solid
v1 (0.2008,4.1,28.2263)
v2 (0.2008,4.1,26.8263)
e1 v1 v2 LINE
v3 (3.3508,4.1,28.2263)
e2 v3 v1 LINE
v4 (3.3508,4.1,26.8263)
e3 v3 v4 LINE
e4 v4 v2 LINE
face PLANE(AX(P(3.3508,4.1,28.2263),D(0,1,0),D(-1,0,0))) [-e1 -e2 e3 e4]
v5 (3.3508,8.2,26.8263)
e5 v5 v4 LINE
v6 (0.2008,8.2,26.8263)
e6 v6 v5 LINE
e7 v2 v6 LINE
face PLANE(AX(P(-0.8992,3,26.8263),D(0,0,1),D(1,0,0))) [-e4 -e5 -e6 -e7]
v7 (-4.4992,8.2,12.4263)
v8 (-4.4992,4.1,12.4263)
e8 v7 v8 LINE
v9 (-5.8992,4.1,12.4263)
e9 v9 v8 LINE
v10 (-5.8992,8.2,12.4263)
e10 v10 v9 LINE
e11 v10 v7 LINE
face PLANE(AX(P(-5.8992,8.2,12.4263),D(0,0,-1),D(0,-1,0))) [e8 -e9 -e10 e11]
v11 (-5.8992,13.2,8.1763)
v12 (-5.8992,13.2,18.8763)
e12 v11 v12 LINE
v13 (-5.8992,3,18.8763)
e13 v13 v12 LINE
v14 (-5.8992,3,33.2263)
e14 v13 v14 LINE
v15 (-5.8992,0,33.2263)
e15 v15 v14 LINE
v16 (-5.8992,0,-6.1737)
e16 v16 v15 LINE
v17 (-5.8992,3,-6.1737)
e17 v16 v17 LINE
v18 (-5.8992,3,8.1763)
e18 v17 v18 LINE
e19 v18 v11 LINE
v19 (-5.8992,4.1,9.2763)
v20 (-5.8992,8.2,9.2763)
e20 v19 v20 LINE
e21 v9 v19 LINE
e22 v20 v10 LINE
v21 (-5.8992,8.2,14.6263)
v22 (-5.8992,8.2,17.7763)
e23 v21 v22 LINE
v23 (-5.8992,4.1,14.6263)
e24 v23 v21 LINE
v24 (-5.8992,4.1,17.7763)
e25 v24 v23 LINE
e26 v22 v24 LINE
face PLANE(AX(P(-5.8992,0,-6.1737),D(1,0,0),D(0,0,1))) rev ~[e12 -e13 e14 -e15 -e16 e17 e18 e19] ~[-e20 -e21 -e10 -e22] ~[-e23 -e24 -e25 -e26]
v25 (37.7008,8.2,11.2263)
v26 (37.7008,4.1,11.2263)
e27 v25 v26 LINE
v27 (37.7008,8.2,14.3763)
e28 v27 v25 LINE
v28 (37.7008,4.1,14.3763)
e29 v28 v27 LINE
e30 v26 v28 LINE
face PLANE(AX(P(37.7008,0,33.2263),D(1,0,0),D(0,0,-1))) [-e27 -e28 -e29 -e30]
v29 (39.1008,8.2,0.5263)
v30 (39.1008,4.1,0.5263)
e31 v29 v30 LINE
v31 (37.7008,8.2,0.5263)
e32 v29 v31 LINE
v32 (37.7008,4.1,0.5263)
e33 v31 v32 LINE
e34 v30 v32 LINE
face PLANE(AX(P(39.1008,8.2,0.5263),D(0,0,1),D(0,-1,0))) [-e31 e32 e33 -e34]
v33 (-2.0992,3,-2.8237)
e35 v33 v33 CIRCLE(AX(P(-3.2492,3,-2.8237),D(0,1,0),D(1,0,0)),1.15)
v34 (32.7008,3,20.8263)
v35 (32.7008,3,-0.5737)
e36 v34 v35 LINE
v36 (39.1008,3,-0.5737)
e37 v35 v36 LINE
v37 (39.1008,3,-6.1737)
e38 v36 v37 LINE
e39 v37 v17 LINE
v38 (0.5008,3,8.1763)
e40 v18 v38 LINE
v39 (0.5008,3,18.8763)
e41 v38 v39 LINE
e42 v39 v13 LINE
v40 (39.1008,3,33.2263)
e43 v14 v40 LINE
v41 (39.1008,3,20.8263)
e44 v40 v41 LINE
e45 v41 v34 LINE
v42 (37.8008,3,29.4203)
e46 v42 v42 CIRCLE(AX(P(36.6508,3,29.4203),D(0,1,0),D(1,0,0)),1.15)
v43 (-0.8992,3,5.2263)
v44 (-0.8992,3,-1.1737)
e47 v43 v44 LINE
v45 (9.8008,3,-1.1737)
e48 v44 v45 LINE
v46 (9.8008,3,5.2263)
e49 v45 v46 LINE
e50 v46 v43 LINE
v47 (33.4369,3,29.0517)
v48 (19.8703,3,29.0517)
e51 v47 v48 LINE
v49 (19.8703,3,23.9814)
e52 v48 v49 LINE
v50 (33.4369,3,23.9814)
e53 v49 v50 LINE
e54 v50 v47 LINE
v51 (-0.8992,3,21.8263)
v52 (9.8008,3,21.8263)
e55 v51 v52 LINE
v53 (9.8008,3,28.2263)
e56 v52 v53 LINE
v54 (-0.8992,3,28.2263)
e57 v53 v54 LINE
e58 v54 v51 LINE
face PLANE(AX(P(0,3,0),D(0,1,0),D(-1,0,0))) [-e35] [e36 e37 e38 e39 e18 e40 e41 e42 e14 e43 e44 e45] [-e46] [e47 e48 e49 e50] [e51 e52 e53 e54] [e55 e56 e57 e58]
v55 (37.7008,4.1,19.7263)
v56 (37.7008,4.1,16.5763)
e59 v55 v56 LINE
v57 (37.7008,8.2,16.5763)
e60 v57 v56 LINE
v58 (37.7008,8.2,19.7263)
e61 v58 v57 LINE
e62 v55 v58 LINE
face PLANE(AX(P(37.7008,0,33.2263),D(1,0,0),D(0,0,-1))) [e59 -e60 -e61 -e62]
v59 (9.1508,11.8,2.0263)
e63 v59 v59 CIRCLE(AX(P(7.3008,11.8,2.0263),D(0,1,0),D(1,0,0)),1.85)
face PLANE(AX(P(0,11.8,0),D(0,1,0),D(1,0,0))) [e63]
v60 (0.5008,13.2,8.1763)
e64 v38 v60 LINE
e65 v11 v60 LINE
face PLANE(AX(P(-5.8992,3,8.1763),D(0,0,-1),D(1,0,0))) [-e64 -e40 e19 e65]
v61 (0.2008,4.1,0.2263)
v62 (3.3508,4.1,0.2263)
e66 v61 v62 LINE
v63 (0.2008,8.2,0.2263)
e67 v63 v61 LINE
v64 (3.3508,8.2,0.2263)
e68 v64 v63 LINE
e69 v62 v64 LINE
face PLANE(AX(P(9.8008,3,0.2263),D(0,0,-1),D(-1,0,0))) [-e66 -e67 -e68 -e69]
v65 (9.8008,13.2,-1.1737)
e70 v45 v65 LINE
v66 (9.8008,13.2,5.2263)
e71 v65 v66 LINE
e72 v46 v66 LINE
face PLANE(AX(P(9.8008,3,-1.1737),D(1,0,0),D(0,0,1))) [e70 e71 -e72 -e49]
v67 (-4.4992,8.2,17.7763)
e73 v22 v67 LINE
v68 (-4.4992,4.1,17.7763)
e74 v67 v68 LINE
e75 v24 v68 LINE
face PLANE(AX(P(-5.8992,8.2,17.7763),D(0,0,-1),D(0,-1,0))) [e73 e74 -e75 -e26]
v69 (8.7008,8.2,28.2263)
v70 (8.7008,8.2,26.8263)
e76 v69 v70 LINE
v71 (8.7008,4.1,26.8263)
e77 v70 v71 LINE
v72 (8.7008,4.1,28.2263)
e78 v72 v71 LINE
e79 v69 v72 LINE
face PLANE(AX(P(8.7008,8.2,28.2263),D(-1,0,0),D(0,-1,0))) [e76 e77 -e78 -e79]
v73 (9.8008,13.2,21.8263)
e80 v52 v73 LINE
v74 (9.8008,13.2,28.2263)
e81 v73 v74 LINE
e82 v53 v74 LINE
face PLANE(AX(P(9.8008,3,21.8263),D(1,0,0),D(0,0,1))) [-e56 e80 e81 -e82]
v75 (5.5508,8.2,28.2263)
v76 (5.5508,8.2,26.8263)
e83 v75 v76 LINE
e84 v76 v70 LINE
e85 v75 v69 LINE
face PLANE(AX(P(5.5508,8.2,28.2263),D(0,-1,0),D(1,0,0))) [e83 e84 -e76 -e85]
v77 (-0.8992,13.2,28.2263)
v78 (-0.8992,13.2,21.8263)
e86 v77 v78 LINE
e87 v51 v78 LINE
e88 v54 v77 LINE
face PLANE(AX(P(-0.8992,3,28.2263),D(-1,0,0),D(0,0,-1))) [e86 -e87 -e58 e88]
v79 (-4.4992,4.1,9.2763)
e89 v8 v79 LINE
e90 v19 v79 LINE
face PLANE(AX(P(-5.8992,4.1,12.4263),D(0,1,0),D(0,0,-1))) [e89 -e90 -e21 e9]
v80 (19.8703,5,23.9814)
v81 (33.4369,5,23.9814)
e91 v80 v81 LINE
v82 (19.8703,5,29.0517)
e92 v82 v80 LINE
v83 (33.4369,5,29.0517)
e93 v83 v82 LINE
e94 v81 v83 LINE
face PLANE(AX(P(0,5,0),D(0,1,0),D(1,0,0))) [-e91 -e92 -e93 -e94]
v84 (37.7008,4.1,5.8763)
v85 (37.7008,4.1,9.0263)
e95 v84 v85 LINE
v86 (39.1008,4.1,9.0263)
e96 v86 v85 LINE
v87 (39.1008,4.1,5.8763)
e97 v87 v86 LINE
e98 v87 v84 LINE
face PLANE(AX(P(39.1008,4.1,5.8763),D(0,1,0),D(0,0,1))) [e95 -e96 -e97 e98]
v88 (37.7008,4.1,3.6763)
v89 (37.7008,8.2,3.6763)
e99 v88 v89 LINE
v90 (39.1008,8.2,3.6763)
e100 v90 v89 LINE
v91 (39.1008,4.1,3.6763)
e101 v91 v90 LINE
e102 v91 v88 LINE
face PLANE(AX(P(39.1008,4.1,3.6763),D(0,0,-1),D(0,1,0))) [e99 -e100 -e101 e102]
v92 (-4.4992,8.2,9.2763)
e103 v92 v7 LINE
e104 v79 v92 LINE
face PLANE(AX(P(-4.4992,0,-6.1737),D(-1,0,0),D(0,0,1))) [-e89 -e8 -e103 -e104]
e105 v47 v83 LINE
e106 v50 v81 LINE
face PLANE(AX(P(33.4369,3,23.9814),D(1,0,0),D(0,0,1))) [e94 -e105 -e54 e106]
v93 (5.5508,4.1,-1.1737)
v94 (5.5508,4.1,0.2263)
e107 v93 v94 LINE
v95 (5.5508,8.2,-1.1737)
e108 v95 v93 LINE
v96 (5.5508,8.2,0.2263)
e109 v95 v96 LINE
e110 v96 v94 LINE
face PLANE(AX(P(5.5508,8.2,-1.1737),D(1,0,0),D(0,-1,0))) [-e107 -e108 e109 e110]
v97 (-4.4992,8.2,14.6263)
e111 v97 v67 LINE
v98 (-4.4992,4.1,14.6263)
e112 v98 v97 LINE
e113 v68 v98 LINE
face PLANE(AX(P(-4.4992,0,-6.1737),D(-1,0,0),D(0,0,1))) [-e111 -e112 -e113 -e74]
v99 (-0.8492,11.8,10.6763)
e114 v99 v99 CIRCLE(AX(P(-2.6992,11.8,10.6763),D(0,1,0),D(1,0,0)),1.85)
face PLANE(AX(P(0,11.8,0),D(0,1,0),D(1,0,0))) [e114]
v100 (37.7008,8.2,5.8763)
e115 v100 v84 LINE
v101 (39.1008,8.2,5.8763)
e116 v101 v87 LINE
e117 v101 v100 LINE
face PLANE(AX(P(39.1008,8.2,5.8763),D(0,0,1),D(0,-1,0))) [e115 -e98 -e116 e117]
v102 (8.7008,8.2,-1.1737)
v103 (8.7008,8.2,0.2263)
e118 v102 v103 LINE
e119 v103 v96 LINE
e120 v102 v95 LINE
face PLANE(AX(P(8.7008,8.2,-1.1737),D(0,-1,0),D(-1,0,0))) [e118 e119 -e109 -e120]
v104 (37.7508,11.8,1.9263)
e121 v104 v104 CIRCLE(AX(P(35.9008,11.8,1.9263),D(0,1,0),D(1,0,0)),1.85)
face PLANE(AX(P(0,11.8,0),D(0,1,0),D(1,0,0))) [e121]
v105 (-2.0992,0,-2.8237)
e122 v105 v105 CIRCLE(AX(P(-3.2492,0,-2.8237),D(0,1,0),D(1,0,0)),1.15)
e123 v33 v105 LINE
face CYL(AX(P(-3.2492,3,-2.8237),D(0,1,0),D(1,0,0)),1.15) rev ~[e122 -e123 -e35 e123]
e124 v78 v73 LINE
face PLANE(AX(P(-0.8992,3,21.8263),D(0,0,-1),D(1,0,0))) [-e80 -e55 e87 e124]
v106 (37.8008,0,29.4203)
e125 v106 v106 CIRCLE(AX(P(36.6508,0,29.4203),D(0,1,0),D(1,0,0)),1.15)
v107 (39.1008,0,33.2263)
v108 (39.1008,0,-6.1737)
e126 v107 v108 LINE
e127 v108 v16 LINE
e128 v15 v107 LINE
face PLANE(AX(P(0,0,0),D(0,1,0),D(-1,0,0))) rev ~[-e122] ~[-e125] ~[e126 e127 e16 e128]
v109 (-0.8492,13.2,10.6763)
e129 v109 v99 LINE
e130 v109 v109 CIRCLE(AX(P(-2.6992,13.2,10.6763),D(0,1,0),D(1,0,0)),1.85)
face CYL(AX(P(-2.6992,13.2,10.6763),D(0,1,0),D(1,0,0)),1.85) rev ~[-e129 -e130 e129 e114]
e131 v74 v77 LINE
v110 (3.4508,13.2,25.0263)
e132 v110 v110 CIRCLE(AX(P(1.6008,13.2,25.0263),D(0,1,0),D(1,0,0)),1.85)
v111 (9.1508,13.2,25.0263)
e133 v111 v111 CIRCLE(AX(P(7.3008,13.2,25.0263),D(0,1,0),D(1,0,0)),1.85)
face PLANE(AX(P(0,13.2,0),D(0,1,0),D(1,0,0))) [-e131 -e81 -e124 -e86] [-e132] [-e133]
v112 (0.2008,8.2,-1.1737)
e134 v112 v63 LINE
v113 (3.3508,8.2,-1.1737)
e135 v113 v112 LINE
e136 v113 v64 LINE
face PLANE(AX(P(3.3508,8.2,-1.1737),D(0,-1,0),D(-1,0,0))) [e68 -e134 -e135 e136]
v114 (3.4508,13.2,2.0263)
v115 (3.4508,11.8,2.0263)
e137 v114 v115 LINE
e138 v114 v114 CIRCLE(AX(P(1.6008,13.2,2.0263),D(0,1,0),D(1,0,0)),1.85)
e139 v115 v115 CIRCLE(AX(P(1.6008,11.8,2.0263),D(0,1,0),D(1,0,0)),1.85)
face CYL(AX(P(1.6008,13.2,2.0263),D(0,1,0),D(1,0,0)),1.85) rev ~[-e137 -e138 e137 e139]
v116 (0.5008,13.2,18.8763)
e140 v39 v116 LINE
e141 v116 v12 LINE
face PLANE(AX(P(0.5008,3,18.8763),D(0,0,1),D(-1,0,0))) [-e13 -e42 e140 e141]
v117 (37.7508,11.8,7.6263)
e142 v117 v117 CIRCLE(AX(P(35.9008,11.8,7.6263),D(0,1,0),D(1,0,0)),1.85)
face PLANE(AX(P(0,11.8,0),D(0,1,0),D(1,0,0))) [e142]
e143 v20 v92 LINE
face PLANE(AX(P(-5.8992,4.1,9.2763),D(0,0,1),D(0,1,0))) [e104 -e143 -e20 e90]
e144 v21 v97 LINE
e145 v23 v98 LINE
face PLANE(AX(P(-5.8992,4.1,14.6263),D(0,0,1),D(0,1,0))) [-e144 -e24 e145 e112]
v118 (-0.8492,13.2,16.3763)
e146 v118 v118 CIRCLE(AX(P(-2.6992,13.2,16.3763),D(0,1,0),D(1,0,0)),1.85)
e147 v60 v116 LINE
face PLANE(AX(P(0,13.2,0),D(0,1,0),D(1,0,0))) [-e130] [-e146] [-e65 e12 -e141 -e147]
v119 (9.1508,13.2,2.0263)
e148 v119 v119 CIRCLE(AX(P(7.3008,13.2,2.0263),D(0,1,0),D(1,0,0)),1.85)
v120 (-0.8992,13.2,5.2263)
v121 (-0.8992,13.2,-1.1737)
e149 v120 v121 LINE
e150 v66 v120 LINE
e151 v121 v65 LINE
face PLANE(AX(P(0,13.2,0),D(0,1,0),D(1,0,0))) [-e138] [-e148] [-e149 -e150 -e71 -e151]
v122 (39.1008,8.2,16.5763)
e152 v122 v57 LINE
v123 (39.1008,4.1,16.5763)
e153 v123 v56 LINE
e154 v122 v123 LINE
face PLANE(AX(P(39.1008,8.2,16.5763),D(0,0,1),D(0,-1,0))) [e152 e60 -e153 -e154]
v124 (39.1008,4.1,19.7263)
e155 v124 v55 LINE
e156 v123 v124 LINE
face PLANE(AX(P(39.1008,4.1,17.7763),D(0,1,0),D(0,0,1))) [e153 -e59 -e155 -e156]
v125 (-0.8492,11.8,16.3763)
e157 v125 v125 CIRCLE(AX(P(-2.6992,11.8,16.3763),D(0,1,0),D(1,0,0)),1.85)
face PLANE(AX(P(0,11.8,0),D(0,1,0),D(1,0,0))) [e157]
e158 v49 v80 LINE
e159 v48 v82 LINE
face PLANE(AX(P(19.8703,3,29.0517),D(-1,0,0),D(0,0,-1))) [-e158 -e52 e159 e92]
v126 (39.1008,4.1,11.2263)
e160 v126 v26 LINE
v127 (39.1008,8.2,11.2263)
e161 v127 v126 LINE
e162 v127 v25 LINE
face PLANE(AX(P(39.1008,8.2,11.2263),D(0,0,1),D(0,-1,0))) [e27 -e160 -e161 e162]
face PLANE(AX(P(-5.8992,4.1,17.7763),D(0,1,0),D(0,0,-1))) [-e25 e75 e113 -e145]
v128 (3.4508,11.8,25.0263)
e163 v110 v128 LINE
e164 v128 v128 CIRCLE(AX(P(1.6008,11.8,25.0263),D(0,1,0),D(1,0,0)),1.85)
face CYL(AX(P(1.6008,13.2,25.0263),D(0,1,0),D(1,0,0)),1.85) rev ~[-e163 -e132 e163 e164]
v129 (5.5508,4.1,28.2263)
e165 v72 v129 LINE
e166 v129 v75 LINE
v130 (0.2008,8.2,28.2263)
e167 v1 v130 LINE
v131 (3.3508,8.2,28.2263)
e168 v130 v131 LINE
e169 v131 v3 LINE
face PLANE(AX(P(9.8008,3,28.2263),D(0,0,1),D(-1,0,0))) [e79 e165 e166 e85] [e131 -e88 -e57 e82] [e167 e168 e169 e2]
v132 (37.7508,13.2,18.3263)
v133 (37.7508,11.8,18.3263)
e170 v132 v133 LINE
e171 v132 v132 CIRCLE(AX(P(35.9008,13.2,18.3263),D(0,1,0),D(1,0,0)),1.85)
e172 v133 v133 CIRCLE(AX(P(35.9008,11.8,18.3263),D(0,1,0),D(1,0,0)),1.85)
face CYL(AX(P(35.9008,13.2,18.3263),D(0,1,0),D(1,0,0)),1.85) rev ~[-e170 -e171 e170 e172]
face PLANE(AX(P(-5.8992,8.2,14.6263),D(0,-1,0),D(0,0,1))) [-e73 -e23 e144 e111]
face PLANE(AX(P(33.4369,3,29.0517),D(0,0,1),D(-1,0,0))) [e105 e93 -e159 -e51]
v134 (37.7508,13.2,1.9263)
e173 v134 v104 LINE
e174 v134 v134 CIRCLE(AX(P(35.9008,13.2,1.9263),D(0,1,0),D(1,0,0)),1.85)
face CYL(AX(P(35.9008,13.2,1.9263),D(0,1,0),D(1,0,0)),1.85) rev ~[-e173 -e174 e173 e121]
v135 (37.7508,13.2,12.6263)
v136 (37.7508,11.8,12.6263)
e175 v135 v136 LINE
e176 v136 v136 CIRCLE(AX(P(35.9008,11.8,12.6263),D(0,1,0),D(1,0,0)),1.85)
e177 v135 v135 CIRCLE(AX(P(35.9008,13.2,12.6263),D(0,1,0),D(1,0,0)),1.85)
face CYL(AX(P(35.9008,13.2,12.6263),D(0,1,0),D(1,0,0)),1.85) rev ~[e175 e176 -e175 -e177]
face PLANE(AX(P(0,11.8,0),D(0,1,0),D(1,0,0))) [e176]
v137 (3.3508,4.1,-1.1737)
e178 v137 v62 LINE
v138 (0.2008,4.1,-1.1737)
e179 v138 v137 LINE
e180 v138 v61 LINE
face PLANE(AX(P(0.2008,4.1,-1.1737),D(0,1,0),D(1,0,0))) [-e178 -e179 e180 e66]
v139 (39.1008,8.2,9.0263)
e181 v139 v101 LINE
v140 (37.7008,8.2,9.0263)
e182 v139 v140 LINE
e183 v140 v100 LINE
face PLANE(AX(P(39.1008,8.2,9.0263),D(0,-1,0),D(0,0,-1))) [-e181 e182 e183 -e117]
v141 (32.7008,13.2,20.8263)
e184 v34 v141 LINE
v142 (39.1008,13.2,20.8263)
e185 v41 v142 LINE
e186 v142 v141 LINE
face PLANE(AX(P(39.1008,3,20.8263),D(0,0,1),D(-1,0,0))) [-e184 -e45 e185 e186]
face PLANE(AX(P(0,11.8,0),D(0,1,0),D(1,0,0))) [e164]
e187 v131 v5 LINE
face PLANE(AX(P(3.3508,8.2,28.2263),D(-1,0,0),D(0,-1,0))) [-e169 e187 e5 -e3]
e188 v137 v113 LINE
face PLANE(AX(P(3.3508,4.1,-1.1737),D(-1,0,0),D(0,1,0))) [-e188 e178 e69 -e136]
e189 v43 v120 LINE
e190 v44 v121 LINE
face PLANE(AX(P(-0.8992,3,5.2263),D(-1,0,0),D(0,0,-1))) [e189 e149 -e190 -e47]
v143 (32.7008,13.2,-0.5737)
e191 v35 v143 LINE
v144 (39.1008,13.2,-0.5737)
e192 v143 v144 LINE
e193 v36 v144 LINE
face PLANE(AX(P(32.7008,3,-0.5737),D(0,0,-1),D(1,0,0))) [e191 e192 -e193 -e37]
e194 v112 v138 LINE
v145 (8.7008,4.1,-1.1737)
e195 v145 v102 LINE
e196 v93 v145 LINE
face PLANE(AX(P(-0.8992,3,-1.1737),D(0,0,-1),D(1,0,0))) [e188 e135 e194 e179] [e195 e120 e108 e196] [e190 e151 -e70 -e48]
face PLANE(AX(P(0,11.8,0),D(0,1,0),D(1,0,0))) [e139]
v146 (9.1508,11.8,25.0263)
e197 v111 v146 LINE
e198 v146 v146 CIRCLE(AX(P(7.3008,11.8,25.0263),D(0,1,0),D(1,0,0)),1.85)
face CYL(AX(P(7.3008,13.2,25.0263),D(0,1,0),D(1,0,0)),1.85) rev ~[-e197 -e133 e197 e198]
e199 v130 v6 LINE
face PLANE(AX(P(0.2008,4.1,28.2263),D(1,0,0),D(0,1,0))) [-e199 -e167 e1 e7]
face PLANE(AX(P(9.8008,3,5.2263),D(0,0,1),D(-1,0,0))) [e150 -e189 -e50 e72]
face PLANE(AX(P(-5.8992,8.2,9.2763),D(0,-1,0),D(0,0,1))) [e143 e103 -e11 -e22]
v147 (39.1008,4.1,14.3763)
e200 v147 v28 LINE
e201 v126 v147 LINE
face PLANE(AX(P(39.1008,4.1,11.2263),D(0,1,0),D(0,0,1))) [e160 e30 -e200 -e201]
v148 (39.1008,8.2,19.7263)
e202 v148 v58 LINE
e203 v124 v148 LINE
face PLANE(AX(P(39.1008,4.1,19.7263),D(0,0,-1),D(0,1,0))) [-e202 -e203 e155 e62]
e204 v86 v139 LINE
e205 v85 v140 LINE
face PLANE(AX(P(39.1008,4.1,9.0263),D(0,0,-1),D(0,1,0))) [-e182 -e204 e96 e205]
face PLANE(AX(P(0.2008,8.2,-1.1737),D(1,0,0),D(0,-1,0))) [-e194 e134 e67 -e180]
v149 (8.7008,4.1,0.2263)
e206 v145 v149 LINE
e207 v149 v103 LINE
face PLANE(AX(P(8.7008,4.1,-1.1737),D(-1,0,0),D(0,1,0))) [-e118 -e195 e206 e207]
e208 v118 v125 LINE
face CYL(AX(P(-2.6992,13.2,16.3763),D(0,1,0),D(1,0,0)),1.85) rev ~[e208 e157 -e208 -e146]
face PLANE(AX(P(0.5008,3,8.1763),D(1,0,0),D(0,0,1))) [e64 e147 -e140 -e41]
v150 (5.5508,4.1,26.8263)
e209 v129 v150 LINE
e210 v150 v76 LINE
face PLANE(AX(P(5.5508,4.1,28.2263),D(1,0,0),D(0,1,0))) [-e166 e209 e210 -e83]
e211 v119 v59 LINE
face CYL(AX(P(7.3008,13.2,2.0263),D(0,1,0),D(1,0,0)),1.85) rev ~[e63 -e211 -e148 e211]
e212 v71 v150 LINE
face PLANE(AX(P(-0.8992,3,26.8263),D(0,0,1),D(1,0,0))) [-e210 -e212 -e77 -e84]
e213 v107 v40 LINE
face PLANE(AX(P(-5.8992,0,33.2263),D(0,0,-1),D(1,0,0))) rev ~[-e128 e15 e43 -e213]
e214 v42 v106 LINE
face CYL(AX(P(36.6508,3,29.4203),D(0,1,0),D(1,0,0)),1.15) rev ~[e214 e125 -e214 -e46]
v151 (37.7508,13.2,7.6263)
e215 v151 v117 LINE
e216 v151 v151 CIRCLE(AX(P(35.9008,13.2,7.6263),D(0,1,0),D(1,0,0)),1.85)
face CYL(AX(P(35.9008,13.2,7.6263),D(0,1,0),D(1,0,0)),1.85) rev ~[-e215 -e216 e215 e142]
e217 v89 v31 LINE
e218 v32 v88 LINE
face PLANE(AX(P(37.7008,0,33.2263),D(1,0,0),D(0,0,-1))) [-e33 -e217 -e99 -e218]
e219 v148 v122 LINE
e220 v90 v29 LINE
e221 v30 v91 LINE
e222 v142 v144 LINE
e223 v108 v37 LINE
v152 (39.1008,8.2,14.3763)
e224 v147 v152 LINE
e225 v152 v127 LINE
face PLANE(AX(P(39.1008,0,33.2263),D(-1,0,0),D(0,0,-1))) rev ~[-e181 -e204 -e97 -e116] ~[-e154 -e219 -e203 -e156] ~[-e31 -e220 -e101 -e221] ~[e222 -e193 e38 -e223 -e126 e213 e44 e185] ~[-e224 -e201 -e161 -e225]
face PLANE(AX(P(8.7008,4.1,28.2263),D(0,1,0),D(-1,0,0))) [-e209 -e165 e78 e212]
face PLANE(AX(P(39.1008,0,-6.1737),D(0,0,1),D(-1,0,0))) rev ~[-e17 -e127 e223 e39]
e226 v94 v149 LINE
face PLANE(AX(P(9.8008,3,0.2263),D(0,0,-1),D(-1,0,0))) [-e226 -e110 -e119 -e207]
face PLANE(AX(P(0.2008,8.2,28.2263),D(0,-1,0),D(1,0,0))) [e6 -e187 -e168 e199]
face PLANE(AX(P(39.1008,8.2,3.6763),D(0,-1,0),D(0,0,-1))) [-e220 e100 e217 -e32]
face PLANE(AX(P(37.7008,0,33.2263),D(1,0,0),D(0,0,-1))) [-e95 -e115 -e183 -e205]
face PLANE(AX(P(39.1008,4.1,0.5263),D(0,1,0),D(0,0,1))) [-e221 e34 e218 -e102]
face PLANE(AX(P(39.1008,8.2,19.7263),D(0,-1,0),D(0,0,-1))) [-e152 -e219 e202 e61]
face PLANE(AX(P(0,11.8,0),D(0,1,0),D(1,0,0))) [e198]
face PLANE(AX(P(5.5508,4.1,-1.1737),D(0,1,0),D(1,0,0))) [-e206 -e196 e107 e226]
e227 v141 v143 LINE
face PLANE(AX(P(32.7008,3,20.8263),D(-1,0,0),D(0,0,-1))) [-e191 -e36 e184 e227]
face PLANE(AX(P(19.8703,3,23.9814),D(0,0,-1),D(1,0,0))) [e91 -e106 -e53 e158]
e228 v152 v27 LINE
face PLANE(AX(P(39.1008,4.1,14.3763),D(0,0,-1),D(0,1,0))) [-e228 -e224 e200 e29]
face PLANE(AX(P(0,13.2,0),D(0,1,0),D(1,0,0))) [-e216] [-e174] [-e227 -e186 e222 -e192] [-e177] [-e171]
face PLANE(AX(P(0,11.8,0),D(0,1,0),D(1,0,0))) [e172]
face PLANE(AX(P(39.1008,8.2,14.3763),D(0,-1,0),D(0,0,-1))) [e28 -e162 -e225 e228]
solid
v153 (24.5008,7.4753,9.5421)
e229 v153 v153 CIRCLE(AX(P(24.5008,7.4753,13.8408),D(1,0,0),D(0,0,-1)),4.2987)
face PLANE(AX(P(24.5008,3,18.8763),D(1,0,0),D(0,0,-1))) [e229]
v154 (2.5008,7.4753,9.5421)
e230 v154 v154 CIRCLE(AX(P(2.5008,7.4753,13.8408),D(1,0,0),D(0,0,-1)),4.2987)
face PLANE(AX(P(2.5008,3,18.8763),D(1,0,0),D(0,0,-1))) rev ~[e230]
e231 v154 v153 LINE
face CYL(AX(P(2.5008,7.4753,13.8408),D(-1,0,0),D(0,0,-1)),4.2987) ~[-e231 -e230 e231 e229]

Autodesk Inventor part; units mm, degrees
ref_plane "YZ Plane" through (0, 0, 0) normal (1, 0, 0) x (0, 1, 0)
ref_plane "XZ Plane" through (0, 0, 0) normal (0, 1, 0) x (-1, 0, 0)
sketch "Sketch1" plane through (0, 0, 0) normal (0, 1, 0) x (-1, 0, 0)
  line L0 (5.8992, 33.2263) -> (-39.1008, 33.2263)
  line L1 (-39.1008, 33.2263) -> (-39.1008, -6.1737)
  line L2 (-39.1008, -6.1737) -> (5.8992, -6.1737)
  line L3 (5.8992, -6.1737) -> (5.8992, 33.2263)
  point P0 (0, 0)
  dimension "d0" = 45
  dimension "d1" = 39.4
extrude "Extrusion1" add sketch "Sketch1" along normal blind 3
sketch "Sketch2" plane through (0, 3, 0) normal (0, 1, 0) x (1, 0, 0)
  line L0 (-5.8992, 6.1737) -> (-5.8992, -33.2263) projected
  line L1 (-5.8992, -8.1763) -> (0.5008, -8.1763)
  line L2 (0.5008, -8.1763) -> (0.5008, -18.8763)
  line L3 (0.5008, -18.8763) -> (-5.8992, -18.8763)
  line L4 (-5.8992, -18.8763) -> (-5.8992, -8.1763)
  line L5 (39.1008, 6.1737) -> (-5.8992, 6.1737) projected
  line L6 (-5.8992, -33.2263) -> (39.1008, -33.2263) projected
  point P0 (0, 0)
  dimension "d4" = 14.35
  dimension "d5" = 14.35
  dimension "d6" = 6.4
extrude "Extrusion2" add sketch "Sketch2" along normal blind 10.2
sketch "Sketch3" plane through (0, 13.2, 0) normal (0, 1, 0) x (1, 0, 0)
  circle A0 centre (-2.6992, -16.3763) radius 1.85
  line L0 (-5.8992, -18.8763) -> (0.5008, -18.8763) projected
  circle A1 centre (-2.6992, -10.6763) radius 1.85
  line L1 (0.5008, -8.1763) -> (-5.8992, -8.1763) projected
  line L2 (0.5008, -18.8763) -> (0.5008, -8.1763) projected
  line L3 (-5.8992, -8.1763) -> (-5.8992, -18.8763) projected
  point P0 (0, 0)
  dimension "d10" = 3.7
  dimension "d12" = 2.5
  dimension "d13" = 3.7
  dimension "d14" = 2.5
  dimension "d17" = 3.2
  dimension "d18" = 3.2
extrude "Extrusion3" cut sketch "Sketch3" against normal blind 1.4 contours A0 | A1
sketch "Sketch4" plane through (0, 3, 0) normal (0, 1, 0) x (1, 0, 0)
  line L0 (-0.8992, -21.8263) -> (9.8008, -21.8263)
  line L1 (9.8008, -21.8263) -> (9.8008, -28.2263)
  line L2 (9.8008, -28.2263) -> (-0.8992, -28.2263)
  line L3 (-0.8992, -28.2263) -> (-0.8992, -21.8263)
  line L4 (-5.8992, -33.2263) -> (39.1008, -33.2263) projected
  line L5 (-5.8992, -18.8763) -> (-5.8992, -33.2263) projected
  line L6 (-0.8992, 1.1737) -> (9.8008, 1.1737)
  line L7 (9.8008, 1.1737) -> (9.8008, -5.2263)
  line L8 (9.8008, -5.2263) -> (-0.8992, -5.2263)
  line L9 (-0.8992, -5.2263) -> (-0.8992, 1.1737)
  line L10 (-5.8992, 6.1737) -> (-5.8992, -8.1763) projected
  line L11 (39.1008, 6.1737) -> (-5.8992, 6.1737) projected
  circle A0 centre (1.6008, -25.0263) radius 1.85
  circle A1 centre (7.3008, -25.0263) radius 1.85
  circle A2 centre (1.6008, -2.0263) radius 1.85
  circle A3 centre (7.3008, -2.0263) radius 1.85
  point P0 (0, 0)
  dimension "d21" = 5
  dimension "d22" = 5
  dimension "d23" = 6.4
  dimension "d24" = 10.7
  dimension "d25" = 10.7
  dimension "d26" = 5
  dimension "d27" = 5
  dimension "d28" = 6.4
  dimension "d29" = 3.7
  dimension "d30" = 2.5
  dimension "d31" = 3.2
  dimension "d32" = 3.7
  dimension "d33" = 2.5
  dimension "d34" = 3.2
  dimension "d35" = 3.7
  dimension "d36" = 3.7
  dimension "d37" = 2.5
  dimension "d38" = 3.2
  dimension "d39" = 3.2
  dimension "d40" = 2.5
extrude "Extrusion4" add sketch "Sketch4" along normal blind 10.2 contours L0 L1 L2 L3 | L6 L7 L8 L9 | A0 | A1 | A2 | A3
sketch "Sketch5" plane through (0, 13.2, 0) normal (0, 1, 0) x (1, 0, 0)
  circle A0 centre (1.6008, -2.0263) radius 1.85
  circle A1 centre (7.3008, -2.0263) radius 1.85
  line L0 (-0.8992, 1.1737) -> (-0.8992, -5.2263) projected
  line L1 (-0.8992, -5.2263) -> (9.8008, -5.2263) projected
  line L2 (9.8008, -5.2263) -> (9.8008, 1.1737) projected
  point P0 (0, 0)
  dimension "d43" = 3.7
  dimension "d44" = 3.7
  dimension "d45" = 2.5
  dimension "d46" = 3.2
  dimension "d47" = 3.2
  dimension "d48" = 2.5
extrude "Extrusion5" cut sketch "Sketch5" against normal blind 1.4
sketch "Sketch6" plane through (0, 13.2, 0) normal (0, 1, 0) x (1, 0, 0)
  circle A0 centre (1.6008, -25.0263) radius 1.85
  circle A1 centre (7.3008, -25.0263) radius 1.85
  line L0 (9.8008, -21.8263) -> (-0.8992, -21.8263) projected
  line L1 (-0.8992, -21.8263) -> (-0.8992, -28.2263) projected
  line L2 (9.8008, -28.2263) -> (9.8008, -21.8263) projected
  point P0 (0, 0)
  dimension "d51" = 3.7
  dimension "d52" = 3.7
  dimension "d53" = 3.2
  dimension "d54" = 2.5
  dimension "d55" = 3.2
  dimension "d56" = 2.5
extrude "Extrusion6" cut sketch "Sketch6" against normal blind 1.4
sketch "Sketch7" plane through (0, 3, 0) normal (0, 1, 0) x (1, 0, 0)
  line L0 (39.1008, -33.2263) -> (39.1008, 6.1737) projected
  line L1 (39.1008, -20.8263) -> (32.7008, -20.8263)
  line L2 (32.7008, -20.8263) -> (32.7008, 0.5737)
  line L3 (32.7008, 0.5737) -> (39.1008, 0.5737)
  line L4 (39.1008, 0.5737) -> (39.1008, -20.8263)
  line L5 (39.1008, 6.1737) -> (-5.8992, 6.1737) projected
  point P0 (0, 0)
  dimension "d59" = 6.4
  dimension "d60" = 21.4
  dimension "d61" = 5.6
extrude "Extrusion7" add sketch "Sketch7" along normal blind 10.2
sketch "Sketch8" plane through (0, 13.2, 0) normal (0, 1, 0) x (1, 0, 0)
  circle A0 centre (35.9008, -1.9263) radius 1.85
  circle A1 centre (35.9008, -7.6263) radius 1.85
  circle A2 centre (35.9008, -12.6263) radius 1.85
  circle A3 centre (35.9008, -18.3263) radius 1.85
  line L0 (39.1008, -20.8263) -> (39.1008, 0.5737) projected
  line L1 (39.1008, 0.5737) -> (32.7008, 0.5737) projected
  line L2 (32.7008, -20.8263) -> (39.1008, -20.8263) projected
  point P0 (0, 0)
  dimension "d39" = 3.2
  dimension "d64" = 3.7
  dimension "d65" = 3.7
  dimension "d66" = 3.7
  dimension "d67" = 3.7
  dimension "d68" = 3.2
  dimension "d69" = 2.5
  dimension "d70" = 3.2
  dimension "d71" = 2.5
  dimension "d72" = 5.7
  dimension "d73" = 3.2
  dimension "d74" = 5.7
  dimension "d75" = 3.2
extrude "Extrusion8" cut sketch "Sketch8" against normal blind 1.4
sketch "Sketch10" plane through (9.8008, 3, -1.1737) normal (0, 0, -1) x (-1, 0, 0)
  line L0 (1.1, 5.2) -> (4.25, 5.2)
  line L1 (4.25, 5.2) -> (4.25, 1.1)
  line L2 (4.25, 1.1) -> (1.1, 1.1)
  line L3 (1.1, 1.1) -> (1.1, 5.2)
  line L4 (0, 0) -> (0, 10.2) projected
  line L5 (10.7, 0) -> (0, 0) projected
  line L6 (6.45, 5.2) -> (9.6, 5.2)
  line L7 (9.6, 5.2) -> (9.6, 1.1)
  line L8 (9.6, 1.1) -> (6.45, 1.1)
  line L9 (6.45, 1.1) -> (6.45, 5.2)
  line L10 (10.7, 0) -> (10.7, 10.2) projected
  point P0 (9.8008, -3)
  dimension "d78" = 1.1
  dimension "d79" = 1.1
  dimension "d80" = 4.1
  dimension "d81" = 1.1
  dimension "d82" = 2.2
  dimension "d83" = 4.1
  dimension "d84" = 1.1
  dimension "d85" = 3.15
extrude "Extrusion9" cut sketch "Sketch10" against normal blind 1.4
sketch "Sketch11" plane through (-5.8992, 0, -6.1737) normal (-1, 0, 0) x (0, 0, 1)
  line L0 (15.45, 8.2) -> (18.6, 8.2)
  line L1 (18.6, 8.2) -> (18.6, 4.1)
  line L2 (18.6, 4.1) -> (15.45, 4.1)
  line L3 (15.45, 4.1) -> (15.45, 8.2)
  line L4 (20.8, 8.2) -> (23.95, 8.2)
  line L5 (23.95, 8.2) -> (23.95, 4.1)
  line L6 (23.95, 4.1) -> (20.8, 4.1)
  line L7 (20.8, 4.1) -> (20.8, 8.2)
  line L8 (14.35, 3) -> (14.35, 13.2) projected
  line L9 (25.05, 3) -> (25.05, 13.2) projected
  line L10 (14.35, 3) -> (25.05, 3)
  line L11 (0, 3) -> (14.35, 3) projected
  point P0 (6.1737, 0)
  dimension "d88" = 1.1
  dimension "d89" = 2.2
  dimension "d90" = 1.1
  dimension "d91" = 1.1
  dimension "d92" = 3.15
  dimension "d93" = 4.1
extrude "Extrusion10" cut sketch "Sketch11" against normal blind 1.4
sketch "Sketch12" plane through (-0.8992, 3, 28.2263) normal (0, 0, 1) x (1, 0, 0)
  line L0 (1.1, 5.2) -> (4.25, 5.2)
  line L1 (4.25, 5.2) -> (4.25, 1.1)
  line L2 (4.25, 1.1) -> (1.1, 1.1)
  line L3 (1.1, 1.1) -> (1.1, 5.2)
  line L4 (6.45, 5.2) -> (9.6, 5.2)
  line L5 (9.6, 5.2) -> (9.6, 1.1)
  line L6 (9.6, 1.1) -> (6.45, 1.1)
  line L7 (6.45, 1.1) -> (6.45, 5.2)
  line L8 (10.7, 0) -> (10.7, 10.2) projected
  line L9 (-5, 0) -> (40, 0) projected
  point P0 (0.8992, -3)
  dimension "d96" = 3.15
  dimension "d97" = 3.15
  dimension "d98" = 2.2
  dimension "d99" = 1.1
  dimension "d100" = 4.1
  dimension "d101" = 1.1
extrude "Extrusion11" cut sketch "Sketch12" against normal blind 1.4
sketch "Sketch13" plane through (39.1008, 0, 33.2263) normal (1, 0, 0) x (0, 0, -1)
  line L0 (15.45, 4.1) -> (18.6, 4.1) projected
  line L1 (13.5, 8.2) -> (16.65, 8.2)
  line L2 (16.65, 8.2) -> (16.65, 4.1)
  line L3 (16.65, 4.1) -> (13.5, 4.1)
  line L4 (13.5, 4.1) -> (13.5, 8.2)
  line L5 (18.85, 8.2) -> (22, 8.2)
  line L6 (22, 8.2) -> (22, 4.1)
  line L7 (22, 4.1) -> (18.85, 4.1)
  line L8 (18.85, 4.1) -> (18.85, 8.2)
  line L9 (12.4, 3) -> (12.4, 13.2) projected
  line L10 (12.4, 3) -> (34.1653, 3)
  line L11 (33.8, 3) -> (39.4, 3) projected
  line L12 (33.8, 3) -> (33.8, 13.2) projected
  line L13 (24.2, 8.2) -> (27.35, 8.2)
  line L14 (27.35, 8.2) -> (27.35, 4.1)
  line L15 (27.35, 4.1) -> (24.2, 4.1)
  line L16 (24.2, 4.1) -> (24.2, 8.2)
  line L17 (29.55, 8.2) -> (32.7, 8.2)
  line L18 (32.7, 8.2) -> (32.7, 4.1)
  line L19 (32.7, 4.1) -> (29.55, 4.1)
  line L20 (29.55, 4.1) -> (29.55, 8.2)
  point P0 (33.2263, 0)
  dimension "d104" = 3.15
  dimension "d105" = 3.15
  dimension "d108" = 1.1
  dimension "d111" = 2.2
  dimension "d112" = 4.1
  dimension "d113" = 4.1
  dimension "d121" = 3.15
  dimension "d122" = 3.15
  dimension "d123" = 1.1
  dimension "d124" = 2.2
  dimension "d125" = 1.1
  dimension "d126" = 1.1
  dimension "d127" = 4.1
extrude "Extrusion12" cut sketch "Sketch13" against normal blind 1.4
ref_plane "Work Plane1" through (2.5008, 3, 18.8763) normal (1, 0, 0) x (0, 0, -1)
sketch "Sketch17" plane through (2.5008, 3, 18.8763) normal (1, 0, 0) x (0, 0, -1)
  circle A0 centre (5.0355, 4.4753) radius 4.2987
  point P0 (18.8763, -3)
extrude "Extrusion13" add sketch "Sketch17" along normal blind 22
sketch "Sketch18" plane through (0, 3, 0) normal (0, 1, 0) x (1, 0, 0)
  line L0 (33.4369, -29.0517) -> (19.8703, -29.0517)
  line L1 (19.8703, -29.0517) -> (19.8703, -23.9814)
  line L2 (19.8703, -23.9814) -> (33.4369, -23.9814)
  line L3 (33.4369, -23.9814) -> (33.4369, -29.0517)
  point P0 (0, 0)
extrude "Extrusion14" add sketch "Sketch18" along normal blind 2
sketch "Sketch19" plane through (0, 3, 0) normal (0, 1, 0) x (1, 0, 0)
  circle A0 centre (-3.2492, 2.8237) radius 1.15
  line L0 (39.1008, 6.1737) -> (-5.8992, 6.1737) projected
  line L1 (-5.8992, 6.1737) -> (-5.8992, -8.1763) projected
  circle A1 centre (36.6508, -29.4203) radius 1.15
  line L2 (-5.8992, -33.2263) -> (39.1008, -33.2263) projected
  line L3 (39.1008, -33.2263) -> (39.1008, -20.8263) projected
  point P0 (0, 0)
  dimension "d135" = 2.3
  dimension "d136" = 3.35
  dimension "d137" = 2.65
  dimension "d138" = 2.3
  dimension "d139" = 51.3
  dimension "d141" = 2.45
extrude "Extrusion15" cut sketch "Sketch19" against normal blind 3
properties part number "motorcontrol"
